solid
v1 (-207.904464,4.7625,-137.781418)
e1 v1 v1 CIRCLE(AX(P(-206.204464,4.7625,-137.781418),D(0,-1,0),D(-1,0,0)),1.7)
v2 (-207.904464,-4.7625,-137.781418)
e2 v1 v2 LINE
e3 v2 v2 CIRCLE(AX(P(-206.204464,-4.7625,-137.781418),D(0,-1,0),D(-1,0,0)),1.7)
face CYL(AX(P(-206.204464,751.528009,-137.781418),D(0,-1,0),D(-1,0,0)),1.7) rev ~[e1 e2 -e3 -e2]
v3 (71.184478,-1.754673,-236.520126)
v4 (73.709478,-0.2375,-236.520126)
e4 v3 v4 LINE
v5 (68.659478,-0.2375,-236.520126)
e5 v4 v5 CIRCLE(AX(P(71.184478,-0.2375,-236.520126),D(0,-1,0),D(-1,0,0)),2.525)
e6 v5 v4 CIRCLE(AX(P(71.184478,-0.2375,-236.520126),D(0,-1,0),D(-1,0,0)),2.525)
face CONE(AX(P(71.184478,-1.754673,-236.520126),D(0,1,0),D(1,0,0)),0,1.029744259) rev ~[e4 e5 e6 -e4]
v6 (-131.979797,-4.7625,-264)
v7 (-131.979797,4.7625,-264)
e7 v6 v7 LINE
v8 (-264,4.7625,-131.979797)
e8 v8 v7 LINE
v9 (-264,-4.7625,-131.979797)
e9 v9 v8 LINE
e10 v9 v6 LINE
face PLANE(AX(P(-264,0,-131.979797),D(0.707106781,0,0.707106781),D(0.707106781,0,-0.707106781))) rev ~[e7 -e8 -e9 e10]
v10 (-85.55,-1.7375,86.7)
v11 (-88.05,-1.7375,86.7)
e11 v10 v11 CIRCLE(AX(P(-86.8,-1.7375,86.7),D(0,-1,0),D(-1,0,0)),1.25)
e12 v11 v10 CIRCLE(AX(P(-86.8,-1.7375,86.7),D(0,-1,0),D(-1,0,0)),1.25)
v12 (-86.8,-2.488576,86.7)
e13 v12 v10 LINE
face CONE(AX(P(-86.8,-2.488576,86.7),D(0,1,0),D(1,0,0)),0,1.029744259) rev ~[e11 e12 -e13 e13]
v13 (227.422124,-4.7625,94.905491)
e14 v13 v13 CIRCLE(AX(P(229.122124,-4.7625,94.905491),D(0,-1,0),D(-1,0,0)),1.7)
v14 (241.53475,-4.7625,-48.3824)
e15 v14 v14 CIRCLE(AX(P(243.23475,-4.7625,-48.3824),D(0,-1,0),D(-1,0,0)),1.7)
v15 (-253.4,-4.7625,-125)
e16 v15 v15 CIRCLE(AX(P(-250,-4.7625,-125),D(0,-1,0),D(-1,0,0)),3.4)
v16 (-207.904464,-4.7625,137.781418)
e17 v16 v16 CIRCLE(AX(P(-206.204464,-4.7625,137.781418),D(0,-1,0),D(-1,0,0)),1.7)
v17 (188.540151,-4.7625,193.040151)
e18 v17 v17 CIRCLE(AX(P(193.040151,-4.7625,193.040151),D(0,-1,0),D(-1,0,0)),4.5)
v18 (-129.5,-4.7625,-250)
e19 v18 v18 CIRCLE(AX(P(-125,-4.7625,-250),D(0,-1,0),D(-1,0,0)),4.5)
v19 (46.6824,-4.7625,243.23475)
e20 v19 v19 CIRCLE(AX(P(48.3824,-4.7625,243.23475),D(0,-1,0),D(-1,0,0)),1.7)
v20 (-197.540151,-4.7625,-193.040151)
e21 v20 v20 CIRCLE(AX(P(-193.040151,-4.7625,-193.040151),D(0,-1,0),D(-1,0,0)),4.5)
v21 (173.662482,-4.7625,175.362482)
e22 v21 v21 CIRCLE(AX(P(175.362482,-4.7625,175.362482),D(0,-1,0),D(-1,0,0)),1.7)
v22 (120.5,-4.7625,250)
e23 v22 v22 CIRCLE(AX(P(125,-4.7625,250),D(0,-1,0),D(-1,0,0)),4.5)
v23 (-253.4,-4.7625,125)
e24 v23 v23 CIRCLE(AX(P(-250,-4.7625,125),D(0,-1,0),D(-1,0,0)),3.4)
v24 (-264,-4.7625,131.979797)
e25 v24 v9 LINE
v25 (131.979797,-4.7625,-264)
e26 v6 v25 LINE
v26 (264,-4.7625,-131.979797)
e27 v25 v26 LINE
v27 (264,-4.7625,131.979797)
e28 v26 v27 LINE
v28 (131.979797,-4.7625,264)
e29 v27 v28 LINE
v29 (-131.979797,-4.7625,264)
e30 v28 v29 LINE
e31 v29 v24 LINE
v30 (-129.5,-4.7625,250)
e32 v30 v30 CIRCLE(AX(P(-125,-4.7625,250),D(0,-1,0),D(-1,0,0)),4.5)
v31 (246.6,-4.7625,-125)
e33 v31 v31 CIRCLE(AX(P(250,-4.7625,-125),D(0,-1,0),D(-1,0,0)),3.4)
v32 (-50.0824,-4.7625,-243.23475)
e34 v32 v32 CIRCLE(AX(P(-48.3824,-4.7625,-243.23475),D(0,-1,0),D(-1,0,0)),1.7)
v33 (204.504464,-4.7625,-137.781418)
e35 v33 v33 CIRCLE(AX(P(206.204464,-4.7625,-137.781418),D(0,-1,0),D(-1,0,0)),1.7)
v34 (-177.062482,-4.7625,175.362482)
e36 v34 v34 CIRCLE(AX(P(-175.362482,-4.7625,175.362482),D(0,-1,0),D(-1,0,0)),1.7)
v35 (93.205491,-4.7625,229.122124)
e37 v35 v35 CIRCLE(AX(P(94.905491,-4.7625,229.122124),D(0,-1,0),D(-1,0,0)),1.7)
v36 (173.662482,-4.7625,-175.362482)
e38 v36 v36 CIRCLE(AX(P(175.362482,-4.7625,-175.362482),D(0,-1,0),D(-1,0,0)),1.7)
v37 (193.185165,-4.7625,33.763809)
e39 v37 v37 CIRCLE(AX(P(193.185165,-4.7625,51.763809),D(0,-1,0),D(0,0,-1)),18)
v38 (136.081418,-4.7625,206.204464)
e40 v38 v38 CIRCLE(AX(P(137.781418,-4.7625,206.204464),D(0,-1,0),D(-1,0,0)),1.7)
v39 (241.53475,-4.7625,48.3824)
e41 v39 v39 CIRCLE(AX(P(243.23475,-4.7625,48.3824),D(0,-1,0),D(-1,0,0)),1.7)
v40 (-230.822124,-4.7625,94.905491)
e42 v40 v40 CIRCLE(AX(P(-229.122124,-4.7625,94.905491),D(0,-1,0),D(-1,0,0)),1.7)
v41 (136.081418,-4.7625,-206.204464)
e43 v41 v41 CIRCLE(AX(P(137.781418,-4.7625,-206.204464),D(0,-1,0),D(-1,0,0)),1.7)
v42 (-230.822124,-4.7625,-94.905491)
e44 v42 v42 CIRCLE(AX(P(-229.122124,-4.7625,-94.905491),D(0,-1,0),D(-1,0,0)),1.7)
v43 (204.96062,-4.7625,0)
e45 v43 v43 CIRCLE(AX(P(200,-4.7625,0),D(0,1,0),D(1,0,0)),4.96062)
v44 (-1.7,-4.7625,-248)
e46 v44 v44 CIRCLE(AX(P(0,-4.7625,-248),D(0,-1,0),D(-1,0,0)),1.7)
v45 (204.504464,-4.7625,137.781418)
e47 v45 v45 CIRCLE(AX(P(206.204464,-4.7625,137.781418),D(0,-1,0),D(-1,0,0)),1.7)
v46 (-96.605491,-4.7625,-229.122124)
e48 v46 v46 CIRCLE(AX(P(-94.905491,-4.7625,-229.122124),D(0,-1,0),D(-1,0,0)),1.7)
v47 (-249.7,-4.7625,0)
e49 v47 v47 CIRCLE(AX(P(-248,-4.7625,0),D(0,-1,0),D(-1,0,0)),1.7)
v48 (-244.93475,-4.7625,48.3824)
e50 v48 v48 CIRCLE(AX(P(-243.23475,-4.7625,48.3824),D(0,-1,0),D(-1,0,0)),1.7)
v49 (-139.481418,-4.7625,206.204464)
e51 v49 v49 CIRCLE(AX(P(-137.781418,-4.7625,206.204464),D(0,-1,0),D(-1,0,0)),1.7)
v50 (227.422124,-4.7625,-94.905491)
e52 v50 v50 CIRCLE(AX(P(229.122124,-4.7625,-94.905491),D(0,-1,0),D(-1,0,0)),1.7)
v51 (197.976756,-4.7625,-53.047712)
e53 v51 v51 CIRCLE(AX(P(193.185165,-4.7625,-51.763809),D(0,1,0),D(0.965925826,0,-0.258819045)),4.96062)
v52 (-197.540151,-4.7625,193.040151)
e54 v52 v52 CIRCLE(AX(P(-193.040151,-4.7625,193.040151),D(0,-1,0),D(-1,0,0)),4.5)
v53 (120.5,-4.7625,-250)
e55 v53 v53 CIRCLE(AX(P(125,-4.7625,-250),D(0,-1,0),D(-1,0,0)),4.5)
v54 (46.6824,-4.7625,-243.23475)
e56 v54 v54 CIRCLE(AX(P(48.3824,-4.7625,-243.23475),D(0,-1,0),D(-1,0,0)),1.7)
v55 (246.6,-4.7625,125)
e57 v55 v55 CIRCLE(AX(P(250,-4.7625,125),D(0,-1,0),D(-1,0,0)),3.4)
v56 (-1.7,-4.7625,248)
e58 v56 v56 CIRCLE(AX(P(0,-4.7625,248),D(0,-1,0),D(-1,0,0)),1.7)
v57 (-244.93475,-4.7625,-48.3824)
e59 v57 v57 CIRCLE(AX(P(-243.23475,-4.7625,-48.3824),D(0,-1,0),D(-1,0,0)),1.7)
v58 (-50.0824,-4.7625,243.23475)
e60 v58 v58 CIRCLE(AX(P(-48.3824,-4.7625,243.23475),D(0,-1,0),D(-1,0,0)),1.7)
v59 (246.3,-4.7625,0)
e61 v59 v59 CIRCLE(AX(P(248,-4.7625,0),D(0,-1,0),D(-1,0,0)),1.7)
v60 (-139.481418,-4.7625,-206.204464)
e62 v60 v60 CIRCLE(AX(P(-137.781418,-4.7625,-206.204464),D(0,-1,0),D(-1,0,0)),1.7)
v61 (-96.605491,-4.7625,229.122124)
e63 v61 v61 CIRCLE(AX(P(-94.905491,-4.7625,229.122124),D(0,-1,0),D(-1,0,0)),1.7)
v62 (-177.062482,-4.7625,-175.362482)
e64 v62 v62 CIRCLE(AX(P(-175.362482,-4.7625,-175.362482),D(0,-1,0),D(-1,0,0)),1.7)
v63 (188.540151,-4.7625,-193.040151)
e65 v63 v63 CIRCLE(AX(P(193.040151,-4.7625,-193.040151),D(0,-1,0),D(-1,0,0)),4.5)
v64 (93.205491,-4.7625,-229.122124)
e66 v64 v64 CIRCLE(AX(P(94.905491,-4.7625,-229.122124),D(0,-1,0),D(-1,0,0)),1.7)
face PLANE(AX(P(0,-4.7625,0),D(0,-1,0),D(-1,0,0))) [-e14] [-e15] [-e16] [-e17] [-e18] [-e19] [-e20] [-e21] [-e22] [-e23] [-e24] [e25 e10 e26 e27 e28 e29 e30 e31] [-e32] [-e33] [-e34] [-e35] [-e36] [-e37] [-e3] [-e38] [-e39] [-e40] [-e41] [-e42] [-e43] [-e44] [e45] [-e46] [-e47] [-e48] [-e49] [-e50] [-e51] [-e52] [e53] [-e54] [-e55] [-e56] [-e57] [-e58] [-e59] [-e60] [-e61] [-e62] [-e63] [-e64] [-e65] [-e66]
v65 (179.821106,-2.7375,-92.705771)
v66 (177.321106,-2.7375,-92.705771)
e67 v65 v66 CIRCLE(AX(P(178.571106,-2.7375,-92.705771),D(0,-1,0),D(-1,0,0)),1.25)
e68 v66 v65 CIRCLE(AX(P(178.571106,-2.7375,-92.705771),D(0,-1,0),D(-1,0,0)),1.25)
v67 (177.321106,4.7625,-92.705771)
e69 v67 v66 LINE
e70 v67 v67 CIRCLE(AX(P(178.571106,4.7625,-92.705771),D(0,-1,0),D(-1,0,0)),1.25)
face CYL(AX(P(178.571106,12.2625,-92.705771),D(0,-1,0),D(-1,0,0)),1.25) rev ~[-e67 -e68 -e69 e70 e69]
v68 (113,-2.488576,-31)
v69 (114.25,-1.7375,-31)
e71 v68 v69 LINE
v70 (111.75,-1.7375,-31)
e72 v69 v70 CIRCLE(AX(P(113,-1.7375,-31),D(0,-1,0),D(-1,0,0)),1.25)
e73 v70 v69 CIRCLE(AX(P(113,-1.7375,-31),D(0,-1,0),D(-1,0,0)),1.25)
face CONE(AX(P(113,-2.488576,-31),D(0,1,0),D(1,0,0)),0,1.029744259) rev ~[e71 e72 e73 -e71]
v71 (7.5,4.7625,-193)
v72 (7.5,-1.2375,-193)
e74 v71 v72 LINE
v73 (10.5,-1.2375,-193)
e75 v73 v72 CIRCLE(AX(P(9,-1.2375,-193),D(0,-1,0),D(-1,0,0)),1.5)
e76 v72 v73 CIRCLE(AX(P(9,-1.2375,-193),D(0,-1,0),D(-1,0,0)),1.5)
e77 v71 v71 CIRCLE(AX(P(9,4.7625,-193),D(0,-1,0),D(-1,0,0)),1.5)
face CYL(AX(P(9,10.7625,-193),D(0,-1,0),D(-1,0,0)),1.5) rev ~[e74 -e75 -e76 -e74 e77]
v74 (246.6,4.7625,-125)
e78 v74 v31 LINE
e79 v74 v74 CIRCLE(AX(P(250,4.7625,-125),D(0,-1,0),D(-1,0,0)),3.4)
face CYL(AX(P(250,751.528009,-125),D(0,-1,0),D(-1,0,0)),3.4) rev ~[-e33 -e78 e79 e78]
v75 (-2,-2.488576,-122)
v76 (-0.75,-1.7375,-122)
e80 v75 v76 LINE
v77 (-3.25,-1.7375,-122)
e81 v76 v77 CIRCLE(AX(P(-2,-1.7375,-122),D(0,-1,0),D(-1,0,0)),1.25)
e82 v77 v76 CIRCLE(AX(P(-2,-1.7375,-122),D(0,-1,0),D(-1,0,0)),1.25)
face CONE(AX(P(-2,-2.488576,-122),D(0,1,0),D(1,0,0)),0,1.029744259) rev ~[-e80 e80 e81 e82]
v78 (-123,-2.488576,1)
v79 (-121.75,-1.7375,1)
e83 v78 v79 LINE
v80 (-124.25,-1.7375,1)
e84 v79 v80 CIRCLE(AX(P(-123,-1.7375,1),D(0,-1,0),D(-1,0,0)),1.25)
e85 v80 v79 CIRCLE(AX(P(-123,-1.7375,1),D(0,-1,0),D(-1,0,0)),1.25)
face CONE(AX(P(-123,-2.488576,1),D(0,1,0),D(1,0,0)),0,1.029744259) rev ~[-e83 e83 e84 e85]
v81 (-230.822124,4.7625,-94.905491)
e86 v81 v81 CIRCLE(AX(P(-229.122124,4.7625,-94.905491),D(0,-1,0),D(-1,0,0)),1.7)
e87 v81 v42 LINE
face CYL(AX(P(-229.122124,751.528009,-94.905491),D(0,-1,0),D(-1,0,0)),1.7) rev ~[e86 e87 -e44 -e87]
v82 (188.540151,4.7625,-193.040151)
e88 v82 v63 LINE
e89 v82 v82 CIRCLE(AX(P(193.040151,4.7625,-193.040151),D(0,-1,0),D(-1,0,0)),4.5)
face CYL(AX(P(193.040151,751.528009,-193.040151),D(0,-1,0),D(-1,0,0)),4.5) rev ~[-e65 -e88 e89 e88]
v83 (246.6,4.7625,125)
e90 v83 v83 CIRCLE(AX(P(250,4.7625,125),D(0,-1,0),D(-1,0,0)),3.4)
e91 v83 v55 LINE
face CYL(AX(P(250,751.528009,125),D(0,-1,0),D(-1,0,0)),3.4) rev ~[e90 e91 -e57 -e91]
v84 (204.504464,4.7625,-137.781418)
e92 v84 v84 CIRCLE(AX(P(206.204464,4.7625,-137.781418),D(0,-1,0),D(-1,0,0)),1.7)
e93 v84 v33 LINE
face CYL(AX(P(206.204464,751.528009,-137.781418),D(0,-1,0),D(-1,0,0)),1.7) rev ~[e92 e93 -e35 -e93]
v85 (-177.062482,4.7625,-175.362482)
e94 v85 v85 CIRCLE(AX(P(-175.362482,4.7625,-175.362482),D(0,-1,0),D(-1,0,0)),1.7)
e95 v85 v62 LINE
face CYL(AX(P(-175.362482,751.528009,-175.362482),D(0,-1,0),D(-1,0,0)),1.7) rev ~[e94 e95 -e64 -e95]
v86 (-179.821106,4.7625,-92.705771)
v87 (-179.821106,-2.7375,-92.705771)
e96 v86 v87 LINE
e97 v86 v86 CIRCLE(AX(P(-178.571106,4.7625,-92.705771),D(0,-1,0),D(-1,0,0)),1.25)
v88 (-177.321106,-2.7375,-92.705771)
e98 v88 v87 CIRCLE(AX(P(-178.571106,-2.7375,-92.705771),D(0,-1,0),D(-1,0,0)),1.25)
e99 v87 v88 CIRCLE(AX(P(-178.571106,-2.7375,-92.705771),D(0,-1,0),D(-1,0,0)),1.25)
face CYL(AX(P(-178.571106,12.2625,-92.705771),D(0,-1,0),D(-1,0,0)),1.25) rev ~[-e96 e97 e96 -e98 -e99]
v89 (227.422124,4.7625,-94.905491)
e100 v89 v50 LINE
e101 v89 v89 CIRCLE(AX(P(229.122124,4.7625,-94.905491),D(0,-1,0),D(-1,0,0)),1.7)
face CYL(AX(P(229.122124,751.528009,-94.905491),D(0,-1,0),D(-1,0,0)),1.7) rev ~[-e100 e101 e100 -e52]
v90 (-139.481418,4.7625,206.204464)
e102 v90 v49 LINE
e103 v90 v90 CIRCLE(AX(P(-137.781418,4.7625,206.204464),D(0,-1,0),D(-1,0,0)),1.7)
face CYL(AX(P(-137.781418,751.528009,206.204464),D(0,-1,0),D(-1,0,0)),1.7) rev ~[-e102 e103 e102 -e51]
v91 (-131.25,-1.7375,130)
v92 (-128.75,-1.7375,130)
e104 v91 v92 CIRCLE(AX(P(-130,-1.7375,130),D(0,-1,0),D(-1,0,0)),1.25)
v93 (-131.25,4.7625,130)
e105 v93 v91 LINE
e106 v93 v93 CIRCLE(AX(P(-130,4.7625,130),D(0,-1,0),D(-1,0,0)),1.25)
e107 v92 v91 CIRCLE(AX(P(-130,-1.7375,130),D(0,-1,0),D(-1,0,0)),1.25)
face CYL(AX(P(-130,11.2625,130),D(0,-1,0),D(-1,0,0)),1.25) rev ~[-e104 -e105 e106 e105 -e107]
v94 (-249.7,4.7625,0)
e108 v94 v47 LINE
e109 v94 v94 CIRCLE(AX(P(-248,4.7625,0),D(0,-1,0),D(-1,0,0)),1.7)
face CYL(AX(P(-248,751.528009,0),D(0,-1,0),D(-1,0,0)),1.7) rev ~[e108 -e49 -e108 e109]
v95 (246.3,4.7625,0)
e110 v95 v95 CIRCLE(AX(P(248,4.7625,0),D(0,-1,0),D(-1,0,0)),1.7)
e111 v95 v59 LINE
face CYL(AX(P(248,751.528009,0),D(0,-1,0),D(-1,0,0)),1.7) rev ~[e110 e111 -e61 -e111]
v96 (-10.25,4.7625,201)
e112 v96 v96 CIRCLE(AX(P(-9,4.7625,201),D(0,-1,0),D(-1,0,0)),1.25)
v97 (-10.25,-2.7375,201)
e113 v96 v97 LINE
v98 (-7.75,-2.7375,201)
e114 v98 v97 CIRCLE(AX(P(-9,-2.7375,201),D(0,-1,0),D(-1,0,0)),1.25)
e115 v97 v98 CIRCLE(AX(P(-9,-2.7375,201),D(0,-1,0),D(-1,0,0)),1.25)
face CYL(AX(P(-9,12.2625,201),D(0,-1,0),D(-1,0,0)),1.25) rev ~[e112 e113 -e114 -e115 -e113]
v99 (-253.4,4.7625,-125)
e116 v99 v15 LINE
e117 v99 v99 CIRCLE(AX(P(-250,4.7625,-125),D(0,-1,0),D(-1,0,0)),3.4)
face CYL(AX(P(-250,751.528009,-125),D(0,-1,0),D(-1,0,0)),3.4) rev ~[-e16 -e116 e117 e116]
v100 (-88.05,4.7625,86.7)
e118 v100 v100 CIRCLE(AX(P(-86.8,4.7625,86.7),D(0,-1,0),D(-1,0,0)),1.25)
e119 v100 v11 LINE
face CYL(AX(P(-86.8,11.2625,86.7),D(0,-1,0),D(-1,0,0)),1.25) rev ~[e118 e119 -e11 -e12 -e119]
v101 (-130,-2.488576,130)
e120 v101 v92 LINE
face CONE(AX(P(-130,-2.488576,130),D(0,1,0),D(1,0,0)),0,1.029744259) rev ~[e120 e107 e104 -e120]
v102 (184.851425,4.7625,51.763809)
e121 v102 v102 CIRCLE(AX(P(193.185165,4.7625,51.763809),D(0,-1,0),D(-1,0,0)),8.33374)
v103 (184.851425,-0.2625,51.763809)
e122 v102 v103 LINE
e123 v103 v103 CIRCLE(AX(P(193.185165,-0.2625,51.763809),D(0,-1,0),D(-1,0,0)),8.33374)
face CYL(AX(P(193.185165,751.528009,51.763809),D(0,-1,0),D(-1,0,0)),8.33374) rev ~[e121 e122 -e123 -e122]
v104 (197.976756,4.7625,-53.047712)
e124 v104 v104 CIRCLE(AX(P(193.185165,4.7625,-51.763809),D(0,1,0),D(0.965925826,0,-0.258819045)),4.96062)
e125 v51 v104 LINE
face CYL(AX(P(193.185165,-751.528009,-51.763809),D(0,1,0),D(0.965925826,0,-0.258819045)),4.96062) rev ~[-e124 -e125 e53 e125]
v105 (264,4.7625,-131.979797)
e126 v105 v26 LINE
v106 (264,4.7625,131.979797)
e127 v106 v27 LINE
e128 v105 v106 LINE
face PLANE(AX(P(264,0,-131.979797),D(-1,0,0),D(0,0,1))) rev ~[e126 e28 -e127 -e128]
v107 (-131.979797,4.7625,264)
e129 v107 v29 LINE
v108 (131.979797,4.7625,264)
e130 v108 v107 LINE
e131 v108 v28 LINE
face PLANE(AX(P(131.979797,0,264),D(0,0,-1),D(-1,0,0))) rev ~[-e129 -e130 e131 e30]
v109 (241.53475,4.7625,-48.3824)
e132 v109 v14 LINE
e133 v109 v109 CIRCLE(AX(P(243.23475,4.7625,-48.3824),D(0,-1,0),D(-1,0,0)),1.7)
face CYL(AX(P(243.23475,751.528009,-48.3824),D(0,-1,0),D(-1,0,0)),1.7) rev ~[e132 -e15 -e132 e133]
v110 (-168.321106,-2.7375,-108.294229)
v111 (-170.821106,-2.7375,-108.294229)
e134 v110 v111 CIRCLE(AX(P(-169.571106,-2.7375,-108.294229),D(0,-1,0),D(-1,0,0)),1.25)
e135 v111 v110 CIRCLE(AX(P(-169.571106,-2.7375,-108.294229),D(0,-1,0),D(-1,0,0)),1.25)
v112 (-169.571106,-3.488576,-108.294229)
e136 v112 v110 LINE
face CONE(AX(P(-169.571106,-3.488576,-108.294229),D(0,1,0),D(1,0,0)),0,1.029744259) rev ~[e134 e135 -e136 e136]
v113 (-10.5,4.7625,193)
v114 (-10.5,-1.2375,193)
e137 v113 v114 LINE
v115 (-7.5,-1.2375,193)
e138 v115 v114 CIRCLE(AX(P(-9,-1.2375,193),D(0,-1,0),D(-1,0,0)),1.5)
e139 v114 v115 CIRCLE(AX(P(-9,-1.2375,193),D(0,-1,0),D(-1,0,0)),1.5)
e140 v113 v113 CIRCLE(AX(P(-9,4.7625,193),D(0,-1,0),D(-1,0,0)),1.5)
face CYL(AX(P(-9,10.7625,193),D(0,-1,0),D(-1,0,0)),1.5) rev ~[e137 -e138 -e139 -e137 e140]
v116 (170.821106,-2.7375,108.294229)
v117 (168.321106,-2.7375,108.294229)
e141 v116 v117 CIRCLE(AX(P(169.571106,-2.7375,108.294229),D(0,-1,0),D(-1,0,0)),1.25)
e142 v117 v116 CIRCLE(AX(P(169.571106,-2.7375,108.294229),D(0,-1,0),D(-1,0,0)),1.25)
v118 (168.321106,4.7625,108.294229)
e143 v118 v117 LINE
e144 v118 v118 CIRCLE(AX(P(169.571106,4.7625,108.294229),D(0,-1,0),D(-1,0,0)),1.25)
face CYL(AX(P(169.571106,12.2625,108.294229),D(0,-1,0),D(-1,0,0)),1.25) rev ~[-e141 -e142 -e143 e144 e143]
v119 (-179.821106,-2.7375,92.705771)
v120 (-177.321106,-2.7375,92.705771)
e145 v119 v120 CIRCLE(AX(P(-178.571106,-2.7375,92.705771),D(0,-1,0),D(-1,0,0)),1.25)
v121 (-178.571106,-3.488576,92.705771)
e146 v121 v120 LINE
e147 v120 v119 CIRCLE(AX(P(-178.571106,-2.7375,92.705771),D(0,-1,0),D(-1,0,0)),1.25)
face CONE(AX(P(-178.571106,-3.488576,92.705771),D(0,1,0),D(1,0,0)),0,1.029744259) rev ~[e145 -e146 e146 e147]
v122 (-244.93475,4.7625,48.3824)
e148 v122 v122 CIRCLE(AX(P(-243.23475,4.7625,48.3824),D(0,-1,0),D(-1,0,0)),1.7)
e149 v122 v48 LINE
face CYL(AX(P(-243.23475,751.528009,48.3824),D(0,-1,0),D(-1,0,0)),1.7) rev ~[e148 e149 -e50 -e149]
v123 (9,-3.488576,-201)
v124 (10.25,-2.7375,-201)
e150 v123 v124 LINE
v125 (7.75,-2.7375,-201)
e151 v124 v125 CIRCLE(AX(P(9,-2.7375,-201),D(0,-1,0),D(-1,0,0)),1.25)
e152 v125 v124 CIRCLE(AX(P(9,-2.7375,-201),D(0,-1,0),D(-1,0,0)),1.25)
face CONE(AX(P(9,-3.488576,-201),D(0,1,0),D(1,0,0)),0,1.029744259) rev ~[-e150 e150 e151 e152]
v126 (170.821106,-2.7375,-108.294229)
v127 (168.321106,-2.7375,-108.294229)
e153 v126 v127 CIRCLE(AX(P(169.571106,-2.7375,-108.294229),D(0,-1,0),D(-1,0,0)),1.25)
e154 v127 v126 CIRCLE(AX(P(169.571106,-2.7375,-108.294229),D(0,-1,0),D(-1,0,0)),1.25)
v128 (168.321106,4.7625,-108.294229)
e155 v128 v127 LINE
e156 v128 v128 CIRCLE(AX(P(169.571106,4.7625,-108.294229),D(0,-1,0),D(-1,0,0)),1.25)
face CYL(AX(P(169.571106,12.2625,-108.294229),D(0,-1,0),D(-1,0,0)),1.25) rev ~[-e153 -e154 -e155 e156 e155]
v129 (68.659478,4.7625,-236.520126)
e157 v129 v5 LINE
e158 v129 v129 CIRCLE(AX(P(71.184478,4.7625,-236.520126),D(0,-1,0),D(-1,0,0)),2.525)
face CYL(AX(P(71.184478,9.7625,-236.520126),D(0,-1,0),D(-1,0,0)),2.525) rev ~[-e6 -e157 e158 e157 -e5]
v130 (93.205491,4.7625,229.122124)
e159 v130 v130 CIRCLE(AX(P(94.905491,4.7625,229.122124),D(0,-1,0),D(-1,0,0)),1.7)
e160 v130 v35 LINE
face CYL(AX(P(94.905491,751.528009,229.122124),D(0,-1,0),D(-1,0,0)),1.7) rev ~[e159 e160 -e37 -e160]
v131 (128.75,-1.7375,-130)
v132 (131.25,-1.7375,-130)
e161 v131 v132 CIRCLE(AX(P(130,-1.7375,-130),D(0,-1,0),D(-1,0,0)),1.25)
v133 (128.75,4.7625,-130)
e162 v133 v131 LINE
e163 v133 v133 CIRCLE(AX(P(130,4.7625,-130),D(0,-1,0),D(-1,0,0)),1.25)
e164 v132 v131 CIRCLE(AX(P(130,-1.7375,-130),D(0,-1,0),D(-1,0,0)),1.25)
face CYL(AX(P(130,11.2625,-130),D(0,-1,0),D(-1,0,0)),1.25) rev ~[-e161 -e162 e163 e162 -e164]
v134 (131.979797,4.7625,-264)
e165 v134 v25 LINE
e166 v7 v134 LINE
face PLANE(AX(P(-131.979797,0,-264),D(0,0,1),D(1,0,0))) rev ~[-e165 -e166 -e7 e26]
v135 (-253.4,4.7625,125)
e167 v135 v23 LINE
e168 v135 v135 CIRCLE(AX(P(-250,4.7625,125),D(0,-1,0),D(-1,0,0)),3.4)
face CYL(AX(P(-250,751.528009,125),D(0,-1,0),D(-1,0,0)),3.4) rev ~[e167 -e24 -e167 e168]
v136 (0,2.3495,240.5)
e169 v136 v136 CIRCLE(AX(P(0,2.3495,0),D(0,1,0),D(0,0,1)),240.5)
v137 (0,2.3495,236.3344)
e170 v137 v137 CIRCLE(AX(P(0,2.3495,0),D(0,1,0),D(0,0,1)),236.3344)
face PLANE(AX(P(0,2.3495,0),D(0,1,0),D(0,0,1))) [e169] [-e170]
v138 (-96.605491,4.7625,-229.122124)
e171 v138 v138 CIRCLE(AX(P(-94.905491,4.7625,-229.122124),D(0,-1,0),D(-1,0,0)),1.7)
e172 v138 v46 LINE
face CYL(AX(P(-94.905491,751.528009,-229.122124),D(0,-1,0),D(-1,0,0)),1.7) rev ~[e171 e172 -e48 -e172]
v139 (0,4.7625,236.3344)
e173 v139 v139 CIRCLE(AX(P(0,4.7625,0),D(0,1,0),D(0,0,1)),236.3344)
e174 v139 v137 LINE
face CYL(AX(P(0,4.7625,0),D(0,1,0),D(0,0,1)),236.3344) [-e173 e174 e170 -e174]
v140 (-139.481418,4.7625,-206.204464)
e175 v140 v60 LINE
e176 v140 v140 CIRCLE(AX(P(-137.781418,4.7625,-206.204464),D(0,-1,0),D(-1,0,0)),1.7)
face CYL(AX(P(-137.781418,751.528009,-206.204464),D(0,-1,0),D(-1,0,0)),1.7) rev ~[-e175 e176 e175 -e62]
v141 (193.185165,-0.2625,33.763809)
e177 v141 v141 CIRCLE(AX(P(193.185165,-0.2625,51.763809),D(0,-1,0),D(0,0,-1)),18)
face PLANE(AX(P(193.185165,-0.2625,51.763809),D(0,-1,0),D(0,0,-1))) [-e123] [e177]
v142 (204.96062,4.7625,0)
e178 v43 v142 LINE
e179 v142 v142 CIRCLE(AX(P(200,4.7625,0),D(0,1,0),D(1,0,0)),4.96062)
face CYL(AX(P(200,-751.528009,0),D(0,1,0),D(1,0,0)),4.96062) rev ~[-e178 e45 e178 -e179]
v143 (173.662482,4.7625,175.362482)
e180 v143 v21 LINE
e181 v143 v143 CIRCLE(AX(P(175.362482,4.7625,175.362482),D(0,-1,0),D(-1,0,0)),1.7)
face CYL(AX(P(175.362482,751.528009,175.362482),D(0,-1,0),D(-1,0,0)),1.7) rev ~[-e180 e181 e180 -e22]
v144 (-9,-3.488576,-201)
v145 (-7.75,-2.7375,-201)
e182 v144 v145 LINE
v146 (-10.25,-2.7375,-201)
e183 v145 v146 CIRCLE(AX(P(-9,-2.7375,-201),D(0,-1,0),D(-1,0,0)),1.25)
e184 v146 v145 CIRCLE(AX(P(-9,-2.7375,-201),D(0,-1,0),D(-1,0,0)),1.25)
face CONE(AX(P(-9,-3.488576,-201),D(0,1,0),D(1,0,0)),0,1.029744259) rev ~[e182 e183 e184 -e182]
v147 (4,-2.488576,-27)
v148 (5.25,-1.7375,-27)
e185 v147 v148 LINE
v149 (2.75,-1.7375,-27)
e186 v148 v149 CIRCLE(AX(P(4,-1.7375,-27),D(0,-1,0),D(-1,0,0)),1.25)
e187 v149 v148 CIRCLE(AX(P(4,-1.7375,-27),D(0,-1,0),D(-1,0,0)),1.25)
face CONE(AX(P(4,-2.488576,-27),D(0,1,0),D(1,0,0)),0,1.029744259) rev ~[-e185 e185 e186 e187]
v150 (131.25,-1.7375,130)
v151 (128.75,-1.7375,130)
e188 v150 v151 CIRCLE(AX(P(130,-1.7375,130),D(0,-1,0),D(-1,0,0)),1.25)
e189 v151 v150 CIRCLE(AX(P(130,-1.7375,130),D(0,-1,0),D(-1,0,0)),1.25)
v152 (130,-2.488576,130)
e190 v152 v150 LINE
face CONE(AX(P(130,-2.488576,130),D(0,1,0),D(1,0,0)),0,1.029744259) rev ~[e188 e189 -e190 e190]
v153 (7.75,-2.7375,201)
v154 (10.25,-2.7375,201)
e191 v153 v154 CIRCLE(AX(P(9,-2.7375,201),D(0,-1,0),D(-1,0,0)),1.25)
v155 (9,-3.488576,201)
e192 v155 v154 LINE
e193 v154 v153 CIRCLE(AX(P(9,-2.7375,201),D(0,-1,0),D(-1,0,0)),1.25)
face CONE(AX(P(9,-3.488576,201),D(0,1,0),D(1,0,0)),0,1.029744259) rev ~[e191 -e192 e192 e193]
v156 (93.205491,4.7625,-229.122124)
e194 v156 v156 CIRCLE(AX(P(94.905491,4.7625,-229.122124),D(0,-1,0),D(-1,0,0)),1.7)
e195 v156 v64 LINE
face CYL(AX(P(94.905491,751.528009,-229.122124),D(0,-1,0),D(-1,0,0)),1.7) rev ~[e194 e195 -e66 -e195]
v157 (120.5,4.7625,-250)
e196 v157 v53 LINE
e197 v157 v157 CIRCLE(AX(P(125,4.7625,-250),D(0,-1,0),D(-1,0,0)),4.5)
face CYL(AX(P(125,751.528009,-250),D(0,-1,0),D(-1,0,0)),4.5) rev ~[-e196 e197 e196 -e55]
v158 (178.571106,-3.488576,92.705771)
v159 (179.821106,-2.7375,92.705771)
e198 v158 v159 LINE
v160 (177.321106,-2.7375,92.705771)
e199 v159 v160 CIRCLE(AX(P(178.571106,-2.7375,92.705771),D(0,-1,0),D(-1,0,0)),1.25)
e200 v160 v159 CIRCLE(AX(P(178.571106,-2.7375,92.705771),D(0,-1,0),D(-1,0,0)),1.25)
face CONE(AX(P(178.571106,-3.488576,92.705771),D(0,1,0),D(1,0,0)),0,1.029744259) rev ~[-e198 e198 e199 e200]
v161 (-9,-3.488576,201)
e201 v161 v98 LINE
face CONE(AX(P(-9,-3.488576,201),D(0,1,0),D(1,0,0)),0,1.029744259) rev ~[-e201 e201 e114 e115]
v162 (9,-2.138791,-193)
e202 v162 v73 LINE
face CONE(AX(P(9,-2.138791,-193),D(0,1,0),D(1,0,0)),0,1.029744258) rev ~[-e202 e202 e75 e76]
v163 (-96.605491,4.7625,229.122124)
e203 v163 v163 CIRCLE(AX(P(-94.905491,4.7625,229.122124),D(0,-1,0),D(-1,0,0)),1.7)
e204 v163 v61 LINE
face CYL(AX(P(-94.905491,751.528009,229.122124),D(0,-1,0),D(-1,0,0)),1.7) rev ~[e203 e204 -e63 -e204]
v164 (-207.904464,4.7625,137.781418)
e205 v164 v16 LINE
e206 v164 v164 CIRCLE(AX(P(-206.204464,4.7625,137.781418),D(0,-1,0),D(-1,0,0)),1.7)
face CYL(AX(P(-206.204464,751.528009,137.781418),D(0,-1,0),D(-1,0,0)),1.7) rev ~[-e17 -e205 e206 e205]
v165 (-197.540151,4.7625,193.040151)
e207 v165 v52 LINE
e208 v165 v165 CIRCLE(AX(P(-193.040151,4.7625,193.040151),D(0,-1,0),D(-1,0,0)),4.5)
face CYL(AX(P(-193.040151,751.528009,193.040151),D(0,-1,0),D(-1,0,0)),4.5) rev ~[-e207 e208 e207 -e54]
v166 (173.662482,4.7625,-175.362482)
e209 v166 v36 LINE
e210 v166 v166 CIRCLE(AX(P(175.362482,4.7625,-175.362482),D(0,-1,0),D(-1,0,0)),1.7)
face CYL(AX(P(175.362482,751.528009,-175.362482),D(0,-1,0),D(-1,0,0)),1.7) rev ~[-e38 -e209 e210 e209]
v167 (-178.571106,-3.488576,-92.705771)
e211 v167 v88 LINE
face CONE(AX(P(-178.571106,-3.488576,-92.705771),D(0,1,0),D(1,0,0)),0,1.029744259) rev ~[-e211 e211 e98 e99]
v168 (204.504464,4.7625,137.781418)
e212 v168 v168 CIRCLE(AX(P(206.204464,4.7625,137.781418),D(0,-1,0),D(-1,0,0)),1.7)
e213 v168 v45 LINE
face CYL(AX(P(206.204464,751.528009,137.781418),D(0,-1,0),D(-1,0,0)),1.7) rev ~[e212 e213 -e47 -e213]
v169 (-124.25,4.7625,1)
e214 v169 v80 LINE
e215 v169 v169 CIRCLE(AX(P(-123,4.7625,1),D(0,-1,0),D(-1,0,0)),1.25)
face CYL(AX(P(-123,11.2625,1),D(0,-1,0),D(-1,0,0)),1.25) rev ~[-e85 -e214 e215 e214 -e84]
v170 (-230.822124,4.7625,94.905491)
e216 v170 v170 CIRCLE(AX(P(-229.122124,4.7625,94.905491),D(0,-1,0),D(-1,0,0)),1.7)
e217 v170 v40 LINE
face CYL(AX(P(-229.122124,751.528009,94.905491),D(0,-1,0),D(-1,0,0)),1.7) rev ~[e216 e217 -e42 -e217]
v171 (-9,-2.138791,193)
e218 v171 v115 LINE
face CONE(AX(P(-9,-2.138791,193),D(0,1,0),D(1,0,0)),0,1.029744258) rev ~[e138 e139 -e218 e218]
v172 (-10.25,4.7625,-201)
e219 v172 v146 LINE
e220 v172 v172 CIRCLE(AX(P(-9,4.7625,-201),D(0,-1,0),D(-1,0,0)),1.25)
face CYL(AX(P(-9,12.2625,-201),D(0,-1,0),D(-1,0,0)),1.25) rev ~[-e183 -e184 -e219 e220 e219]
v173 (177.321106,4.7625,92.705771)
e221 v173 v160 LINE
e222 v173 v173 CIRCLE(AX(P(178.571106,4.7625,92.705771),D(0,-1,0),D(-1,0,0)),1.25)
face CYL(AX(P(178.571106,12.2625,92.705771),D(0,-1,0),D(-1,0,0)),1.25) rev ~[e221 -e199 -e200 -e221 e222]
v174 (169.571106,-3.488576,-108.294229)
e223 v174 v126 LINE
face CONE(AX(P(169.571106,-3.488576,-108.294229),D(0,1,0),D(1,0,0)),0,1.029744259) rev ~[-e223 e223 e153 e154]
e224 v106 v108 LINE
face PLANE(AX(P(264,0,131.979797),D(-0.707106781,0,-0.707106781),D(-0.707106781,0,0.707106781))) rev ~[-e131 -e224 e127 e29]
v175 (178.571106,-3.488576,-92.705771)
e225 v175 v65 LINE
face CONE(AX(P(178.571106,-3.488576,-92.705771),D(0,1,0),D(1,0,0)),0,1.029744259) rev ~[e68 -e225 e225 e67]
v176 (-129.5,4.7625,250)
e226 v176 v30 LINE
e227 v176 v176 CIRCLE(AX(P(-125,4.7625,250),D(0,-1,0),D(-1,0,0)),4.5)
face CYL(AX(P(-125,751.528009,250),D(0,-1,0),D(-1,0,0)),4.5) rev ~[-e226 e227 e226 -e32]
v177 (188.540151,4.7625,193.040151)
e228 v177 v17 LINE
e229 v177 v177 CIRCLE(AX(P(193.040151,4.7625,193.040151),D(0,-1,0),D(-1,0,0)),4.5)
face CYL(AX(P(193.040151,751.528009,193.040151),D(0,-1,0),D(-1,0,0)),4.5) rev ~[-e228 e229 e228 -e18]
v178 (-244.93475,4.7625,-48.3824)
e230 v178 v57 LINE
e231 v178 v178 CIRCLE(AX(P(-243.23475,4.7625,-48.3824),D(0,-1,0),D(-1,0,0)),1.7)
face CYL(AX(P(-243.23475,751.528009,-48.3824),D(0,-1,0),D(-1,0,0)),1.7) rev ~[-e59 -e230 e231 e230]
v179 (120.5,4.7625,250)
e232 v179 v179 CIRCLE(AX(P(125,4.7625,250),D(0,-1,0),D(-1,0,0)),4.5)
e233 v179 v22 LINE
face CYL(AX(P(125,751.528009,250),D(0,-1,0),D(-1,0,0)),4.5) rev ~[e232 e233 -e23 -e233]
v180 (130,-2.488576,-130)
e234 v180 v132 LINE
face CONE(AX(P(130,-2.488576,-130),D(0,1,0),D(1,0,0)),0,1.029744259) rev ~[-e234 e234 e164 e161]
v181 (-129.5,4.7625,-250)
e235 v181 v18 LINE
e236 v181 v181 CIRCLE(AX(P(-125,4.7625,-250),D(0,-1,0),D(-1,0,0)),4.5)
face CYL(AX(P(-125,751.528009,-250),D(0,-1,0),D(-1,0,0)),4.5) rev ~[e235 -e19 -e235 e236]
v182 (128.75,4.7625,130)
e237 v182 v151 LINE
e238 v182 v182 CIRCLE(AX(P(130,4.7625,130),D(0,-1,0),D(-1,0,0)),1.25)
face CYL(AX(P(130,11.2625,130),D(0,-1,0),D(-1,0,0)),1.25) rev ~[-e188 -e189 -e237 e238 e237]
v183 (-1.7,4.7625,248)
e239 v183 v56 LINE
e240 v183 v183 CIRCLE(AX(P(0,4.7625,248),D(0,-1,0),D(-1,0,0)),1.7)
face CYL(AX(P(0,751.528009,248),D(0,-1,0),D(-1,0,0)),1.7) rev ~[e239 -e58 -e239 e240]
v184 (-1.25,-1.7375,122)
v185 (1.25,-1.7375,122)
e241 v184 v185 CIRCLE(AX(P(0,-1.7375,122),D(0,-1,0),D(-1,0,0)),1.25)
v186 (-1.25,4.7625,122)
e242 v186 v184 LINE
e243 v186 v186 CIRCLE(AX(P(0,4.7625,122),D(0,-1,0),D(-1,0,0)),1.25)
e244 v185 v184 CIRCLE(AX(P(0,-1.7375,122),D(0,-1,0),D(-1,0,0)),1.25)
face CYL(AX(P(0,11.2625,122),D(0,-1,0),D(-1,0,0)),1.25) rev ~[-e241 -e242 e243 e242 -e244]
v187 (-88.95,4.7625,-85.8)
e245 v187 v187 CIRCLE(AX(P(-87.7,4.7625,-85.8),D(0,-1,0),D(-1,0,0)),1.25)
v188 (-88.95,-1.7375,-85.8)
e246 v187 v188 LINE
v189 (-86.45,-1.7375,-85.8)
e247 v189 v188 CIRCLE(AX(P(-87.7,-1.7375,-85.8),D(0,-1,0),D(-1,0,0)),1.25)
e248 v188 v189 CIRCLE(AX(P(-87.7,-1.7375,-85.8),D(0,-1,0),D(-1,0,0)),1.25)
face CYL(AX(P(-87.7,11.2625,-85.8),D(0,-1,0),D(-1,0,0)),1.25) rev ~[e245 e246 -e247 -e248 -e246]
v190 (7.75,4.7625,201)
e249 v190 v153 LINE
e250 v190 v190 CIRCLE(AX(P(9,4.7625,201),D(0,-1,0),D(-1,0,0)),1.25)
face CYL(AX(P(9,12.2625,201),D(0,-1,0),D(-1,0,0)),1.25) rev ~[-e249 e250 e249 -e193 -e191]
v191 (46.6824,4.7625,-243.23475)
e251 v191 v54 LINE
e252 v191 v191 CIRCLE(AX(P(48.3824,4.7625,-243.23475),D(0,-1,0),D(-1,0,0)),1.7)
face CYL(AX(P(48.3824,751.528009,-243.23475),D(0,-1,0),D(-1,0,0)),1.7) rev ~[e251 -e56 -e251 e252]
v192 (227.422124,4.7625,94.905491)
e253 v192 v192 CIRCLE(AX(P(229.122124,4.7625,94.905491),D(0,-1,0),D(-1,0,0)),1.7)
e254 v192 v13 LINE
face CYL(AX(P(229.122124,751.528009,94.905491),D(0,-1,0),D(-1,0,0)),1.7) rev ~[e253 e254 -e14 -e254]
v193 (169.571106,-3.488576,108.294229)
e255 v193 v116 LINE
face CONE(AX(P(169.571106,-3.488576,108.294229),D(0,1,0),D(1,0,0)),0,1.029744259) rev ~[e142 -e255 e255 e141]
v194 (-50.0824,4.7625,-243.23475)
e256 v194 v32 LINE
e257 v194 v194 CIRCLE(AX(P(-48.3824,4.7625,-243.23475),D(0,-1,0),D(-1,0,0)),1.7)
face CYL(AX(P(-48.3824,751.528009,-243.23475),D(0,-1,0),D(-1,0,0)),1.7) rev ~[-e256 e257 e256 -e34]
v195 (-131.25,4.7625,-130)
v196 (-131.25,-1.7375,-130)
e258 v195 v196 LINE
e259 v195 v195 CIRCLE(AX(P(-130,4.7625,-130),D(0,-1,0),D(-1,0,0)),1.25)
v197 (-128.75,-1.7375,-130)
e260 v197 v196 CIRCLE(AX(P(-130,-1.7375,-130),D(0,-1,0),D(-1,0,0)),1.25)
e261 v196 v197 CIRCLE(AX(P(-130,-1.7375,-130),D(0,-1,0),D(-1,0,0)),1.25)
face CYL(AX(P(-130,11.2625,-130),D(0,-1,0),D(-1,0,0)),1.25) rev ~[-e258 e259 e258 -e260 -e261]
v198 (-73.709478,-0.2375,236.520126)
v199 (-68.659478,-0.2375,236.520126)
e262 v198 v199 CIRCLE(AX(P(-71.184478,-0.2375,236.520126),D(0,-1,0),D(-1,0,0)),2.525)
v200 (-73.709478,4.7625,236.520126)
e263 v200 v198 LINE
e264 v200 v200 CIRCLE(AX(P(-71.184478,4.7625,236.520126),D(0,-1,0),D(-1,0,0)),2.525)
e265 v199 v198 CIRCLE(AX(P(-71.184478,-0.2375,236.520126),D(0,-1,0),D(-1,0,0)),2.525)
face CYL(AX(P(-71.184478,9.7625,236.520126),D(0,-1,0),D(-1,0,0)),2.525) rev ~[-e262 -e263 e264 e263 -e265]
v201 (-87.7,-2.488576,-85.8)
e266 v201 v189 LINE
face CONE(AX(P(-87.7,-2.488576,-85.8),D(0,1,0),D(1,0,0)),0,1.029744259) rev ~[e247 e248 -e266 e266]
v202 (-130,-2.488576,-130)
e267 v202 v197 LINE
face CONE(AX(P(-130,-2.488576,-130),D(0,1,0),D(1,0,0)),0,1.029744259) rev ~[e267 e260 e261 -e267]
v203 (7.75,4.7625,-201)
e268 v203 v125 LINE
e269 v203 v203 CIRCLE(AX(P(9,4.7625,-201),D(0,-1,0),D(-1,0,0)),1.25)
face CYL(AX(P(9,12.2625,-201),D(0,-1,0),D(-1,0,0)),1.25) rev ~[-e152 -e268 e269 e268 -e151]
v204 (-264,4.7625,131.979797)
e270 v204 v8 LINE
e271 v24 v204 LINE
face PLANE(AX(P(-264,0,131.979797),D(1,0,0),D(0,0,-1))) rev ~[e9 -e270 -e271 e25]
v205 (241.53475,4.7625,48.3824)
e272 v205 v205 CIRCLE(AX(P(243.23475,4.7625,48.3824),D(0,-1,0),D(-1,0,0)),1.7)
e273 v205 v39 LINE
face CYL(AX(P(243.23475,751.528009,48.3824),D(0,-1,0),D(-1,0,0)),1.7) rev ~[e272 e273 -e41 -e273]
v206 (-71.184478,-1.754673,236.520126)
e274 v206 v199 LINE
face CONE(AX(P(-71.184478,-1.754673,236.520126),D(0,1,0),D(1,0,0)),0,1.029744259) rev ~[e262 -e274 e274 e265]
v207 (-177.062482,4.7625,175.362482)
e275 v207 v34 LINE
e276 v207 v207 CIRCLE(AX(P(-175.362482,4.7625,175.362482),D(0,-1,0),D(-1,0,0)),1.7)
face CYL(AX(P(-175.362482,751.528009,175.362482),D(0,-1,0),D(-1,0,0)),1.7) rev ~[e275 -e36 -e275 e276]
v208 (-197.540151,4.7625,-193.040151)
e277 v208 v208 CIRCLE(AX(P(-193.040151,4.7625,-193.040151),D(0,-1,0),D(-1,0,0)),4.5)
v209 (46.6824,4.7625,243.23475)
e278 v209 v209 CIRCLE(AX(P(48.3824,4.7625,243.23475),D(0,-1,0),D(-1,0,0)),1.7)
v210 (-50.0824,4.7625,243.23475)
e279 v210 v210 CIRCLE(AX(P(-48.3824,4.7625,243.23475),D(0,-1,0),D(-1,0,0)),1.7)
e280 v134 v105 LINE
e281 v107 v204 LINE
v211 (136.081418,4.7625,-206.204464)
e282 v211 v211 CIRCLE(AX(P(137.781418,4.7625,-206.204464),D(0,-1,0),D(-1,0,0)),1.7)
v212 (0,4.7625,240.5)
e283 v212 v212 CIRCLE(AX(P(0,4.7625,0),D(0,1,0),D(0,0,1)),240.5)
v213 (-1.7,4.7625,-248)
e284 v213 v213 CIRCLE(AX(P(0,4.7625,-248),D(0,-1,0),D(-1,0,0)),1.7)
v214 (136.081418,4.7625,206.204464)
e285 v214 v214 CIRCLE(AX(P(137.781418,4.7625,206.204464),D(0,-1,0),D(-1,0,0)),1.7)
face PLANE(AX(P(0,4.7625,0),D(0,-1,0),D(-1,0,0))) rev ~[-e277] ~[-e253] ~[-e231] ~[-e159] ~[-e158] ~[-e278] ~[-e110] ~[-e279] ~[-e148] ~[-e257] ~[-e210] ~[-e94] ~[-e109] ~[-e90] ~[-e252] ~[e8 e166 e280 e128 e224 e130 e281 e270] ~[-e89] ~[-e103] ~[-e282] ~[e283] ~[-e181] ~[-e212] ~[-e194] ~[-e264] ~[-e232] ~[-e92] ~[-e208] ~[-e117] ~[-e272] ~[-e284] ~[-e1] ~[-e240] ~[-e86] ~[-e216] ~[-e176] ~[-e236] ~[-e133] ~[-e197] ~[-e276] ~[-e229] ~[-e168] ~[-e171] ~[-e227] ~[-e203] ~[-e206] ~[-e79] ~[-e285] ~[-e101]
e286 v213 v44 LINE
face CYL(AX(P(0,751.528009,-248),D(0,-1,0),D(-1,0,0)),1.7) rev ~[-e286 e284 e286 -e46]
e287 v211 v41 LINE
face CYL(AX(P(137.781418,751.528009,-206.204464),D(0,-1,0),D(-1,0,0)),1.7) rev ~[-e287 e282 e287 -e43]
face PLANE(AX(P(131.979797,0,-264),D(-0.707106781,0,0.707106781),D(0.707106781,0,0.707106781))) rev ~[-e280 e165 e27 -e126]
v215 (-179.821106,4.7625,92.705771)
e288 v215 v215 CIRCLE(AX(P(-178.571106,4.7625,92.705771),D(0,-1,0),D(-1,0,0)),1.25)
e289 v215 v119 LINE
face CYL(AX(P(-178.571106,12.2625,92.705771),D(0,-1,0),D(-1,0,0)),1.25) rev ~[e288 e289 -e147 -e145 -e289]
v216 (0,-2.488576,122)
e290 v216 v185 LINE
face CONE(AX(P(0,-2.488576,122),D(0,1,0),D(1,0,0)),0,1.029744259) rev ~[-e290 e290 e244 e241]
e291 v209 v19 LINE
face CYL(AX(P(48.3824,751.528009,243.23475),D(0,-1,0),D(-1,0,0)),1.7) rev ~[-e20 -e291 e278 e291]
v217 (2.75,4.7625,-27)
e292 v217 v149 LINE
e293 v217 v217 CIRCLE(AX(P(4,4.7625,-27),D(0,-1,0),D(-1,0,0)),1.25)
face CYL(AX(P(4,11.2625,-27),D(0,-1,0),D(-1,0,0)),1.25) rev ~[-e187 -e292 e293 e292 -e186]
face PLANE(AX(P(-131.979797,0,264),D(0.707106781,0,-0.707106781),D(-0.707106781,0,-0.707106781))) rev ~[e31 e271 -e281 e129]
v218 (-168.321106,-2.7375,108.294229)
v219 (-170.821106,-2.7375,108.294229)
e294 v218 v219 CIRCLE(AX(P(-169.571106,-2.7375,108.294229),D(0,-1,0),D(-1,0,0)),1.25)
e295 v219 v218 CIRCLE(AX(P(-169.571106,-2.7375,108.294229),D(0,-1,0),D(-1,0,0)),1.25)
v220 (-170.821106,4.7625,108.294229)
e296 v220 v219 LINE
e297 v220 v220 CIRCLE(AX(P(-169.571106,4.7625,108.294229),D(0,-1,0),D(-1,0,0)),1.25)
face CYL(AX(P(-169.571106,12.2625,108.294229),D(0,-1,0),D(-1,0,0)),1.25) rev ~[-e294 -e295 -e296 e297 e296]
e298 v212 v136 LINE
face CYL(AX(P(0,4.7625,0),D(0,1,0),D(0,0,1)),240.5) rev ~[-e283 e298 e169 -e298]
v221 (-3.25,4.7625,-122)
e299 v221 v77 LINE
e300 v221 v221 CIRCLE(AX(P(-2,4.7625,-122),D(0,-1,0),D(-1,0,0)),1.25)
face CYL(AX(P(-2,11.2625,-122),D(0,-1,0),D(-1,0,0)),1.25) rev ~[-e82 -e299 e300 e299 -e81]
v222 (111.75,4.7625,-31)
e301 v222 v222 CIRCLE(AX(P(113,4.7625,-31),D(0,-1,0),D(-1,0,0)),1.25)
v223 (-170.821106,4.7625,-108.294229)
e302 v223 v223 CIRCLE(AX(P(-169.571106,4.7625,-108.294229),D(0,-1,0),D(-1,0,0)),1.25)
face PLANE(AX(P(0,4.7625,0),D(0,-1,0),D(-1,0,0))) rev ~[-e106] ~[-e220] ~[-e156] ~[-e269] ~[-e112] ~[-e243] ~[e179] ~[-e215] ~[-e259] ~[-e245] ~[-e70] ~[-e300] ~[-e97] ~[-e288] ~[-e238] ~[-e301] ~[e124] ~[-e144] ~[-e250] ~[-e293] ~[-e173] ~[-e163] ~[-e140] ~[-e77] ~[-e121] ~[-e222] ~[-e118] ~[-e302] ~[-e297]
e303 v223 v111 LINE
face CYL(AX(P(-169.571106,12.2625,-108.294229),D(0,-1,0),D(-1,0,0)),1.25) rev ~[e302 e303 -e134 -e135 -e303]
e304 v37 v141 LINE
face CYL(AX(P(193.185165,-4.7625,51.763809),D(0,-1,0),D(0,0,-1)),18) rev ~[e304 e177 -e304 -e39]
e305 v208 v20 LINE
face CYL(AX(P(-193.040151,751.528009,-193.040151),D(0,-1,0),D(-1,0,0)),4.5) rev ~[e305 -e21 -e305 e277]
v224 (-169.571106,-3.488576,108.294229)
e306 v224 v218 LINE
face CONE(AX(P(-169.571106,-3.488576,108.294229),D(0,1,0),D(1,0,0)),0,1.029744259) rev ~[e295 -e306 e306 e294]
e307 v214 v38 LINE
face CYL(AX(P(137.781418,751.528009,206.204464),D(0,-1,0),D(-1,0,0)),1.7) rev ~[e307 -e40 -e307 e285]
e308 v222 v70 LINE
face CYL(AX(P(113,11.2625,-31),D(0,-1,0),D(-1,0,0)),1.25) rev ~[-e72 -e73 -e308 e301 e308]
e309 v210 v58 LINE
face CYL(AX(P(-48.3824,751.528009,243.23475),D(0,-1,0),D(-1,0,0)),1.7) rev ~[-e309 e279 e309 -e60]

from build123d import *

# Parameters (mm, degrees)
BASE_PLATE_PROFILE_DEPTH                     = 4.7625
M3_CLEARANCE_HOLE_FOR_CYLINDER_D             = 3.4
M3X0_5_TAPPED_HOLE_FOR_SUPPORT_PILLARS_D     = 2.5
M3X0_5_TAPPED_HOLE_FOR_SUPPORT_PILLARS_DEPTH = 7.5
M3X0_5_TAPPED_HOLE_FOR_SUPPORT_PILLARS_TIP   = 0.751075774
F_3_0MM_DOWEL_HOLE_FOR_SUPPORT_PILLARS_D     = 3
F_3_0MM_DOWEL_HOLE_FOR_SUPPORT_PILLARS_DEPTH = 6
F_3_0MM_DOWEL_HOLE_FOR_SUPPORT_PILLARS_TIP   = 0.901290929
M3X0_5_TAPPED_HOLE_FOR_PCB_STANDOFFS_D       = 2.5
M3X0_5_TAPPED_HOLE_FOR_PCB_STANDOFFS_DEPTH   = 6.5
M3X0_5_TAPPED_HOLE_FOR_PCB_STANDOFFS_TIP     = 0.751075774
M8_CLEARANCE_HOLE_FOR_LIFTING_ALIGNM_D       = 9
M8X1_25_TAPPED_HOLE_FOR_SUPER_STRUCTURE_D    = 6.8
F_7_16_20_TAPPED_HOLE_FOR_PENETRATOR_D       = 9.92124
SKETCH28_R                                   = 240.5
SKETCH28_R_2                                 = 236.3344
O_RING_GROOVE_DEPTH                          = 2.413
CIRPATTERN_EXTRACABLES_COUNT                 = 2
CIRPATTERN_EXTRACABLES_ANGLE                 = 15
F_5_8_CLEARANCE_HOLE1_D                      = 16.66748
SKETCH35_R                                   = 18
CUT_EXTRUDE1_DEPTH                           = 4.5
M8_CLEARANCE_HOLE_D                          = 9
F_5_0MM_DOWEL_HOLE1_D                        = 5.05
F_5_0MM_DOWEL_HOLE1_DEPTH                    = 5
F_5_0MM_DOWEL_HOLE1_TIP                      = 1.517173063


with BuildPart() as part:
    # Sketch1 → Base Plate Profile (new, symmetric)
    with BuildSketch(Plane(origin=(0, 0, 0), x_dir=(1, 0, 0), z_dir=(0, 1, 0))):
        Polygon((-131.979797464, 264), (131.979797464, 264), (264, 131.979797464), (264, -131.979797464), (131.979797464, -264), (-131.979797464, -264), (-264, -131.979797464), (-264, 131.979797464), align=None)
    extrude(amount=BASE_PLATE_PROFILE_DEPTH, both=True)

    # M3 Clearance Hole - For Cylinder (through all)
    with Locations(Plane(origin=(0, 4.7625, 0), x_dir=(1, 0, 0), z_dir=(0, 1, 0))):
        with Locations((248, 0), (243.23474954, -48.38239986), (229.122124063, -94.905491227), (206.204463851, -137.781417789), (175.362481734, -175.362481734), (137.781417789, -206.204463851), (94.905491227, -229.122124063), (48.38239986, -243.23474954), (0, -248), (-48.38239986, -243.23474954), (-94.905491227, -229.122124063), (-137.781417789, -206.204463851), (-175.362481734, -175.362481734), (-206.204463851, -137.781417789), (-229.122124063, -94.905491227), (-243.23474954, -48.38239986), (-248, 0), (-243.23474954, 48.38239986), (-229.122124063, 94.905491227), (-206.204463851, 137.781417789), (-175.362481734, 175.362481734), (-137.781417789, 206.204463851), (-94.905491227, 229.122124063), (-48.38239986, 243.23474954), (0, 248), (48.38239986, 243.23474954), (94.905491227, 229.122124063), (137.781417789, 206.204463851), (175.362481734, 175.362481734), (206.204463851, 137.781417789), (229.122124063, 94.905491227), (243.23474954, 48.38239986)):
            Hole(M3_CLEARANCE_HOLE_FOR_CYLINDER_D / 2)

    # M3x0.5 Tapped Hole - For Support Pillars
    with Locations(Plane(origin=(0, 4.7625, 0), x_dir=(1, 0, 0), z_dir=(0, 1, 0))):
        with Locations((-9, 201), (9, 201), (169.571106161, 108.294228634), (178.571106161, 92.705771366), (178.571106161, -92.705771366), (169.571106161, -108.294228634), (9, -201), (-9, -201), (-169.571106161, -108.294228634), (-178.571106161, -92.705771366), (-178.571106161, 92.705771366), (-169.571106161, 108.294228634)):
            Hole(M3X0_5_TAPPED_HOLE_FOR_SUPPORT_PILLARS_D / 2, depth=M3X0_5_TAPPED_HOLE_FOR_SUPPORT_PILLARS_DEPTH)
            with Locations((0, 0, -(M3X0_5_TAPPED_HOLE_FOR_SUPPORT_PILLARS_DEPTH + M3X0_5_TAPPED_HOLE_FOR_SUPPORT_PILLARS_TIP / 2))):  # 118° drill point
                Cone(0, M3X0_5_TAPPED_HOLE_FOR_SUPPORT_PILLARS_D / 2, M3X0_5_TAPPED_HOLE_FOR_SUPPORT_PILLARS_TIP, mode=Mode.SUBTRACT)

    # Ø3.0mm Dowel Hole - For Support Pillars
    with Locations(Plane(origin=(0, 4.7625, 0), x_dir=(1, 0, 0), z_dir=(0, 1, 0))):
        with Locations((9, 193), (-9, -193)):
            Hole(F_3_0MM_DOWEL_HOLE_FOR_SUPPORT_PILLARS_D / 2, depth=F_3_0MM_DOWEL_HOLE_FOR_SUPPORT_PILLARS_DEPTH)
            with Locations((0, 0, -(F_3_0MM_DOWEL_HOLE_FOR_SUPPORT_PILLARS_DEPTH + F_3_0MM_DOWEL_HOLE_FOR_SUPPORT_PILLARS_TIP / 2))):  # 118° drill point
                Cone(0, F_3_0MM_DOWEL_HOLE_FOR_SUPPORT_PILLARS_D / 2, F_3_0MM_DOWEL_HOLE_FOR_SUPPORT_PILLARS_TIP, mode=Mode.SUBTRACT)

    # M3x0.5 Tapped Hole - For PCB Standoffs
    with Locations(Plane(origin=(0, 4.7625, 0), x_dir=(1, 0, 0), z_dir=(0, 1, 0))):
        with Locations((113, 31), (-130, -130), (130, -130), (130, 130), (-130, 130), (-86.8, -86.7), (0, -122), (-123, -1), (-87.7, 85.8), (4, 27), (-2, 122)):
            Hole(M3X0_5_TAPPED_HOLE_FOR_PCB_STANDOFFS_D / 2, depth=M3X0_5_TAPPED_HOLE_FOR_PCB_STANDOFFS_DEPTH)
            with Locations((0, 0, -(M3X0_5_TAPPED_HOLE_FOR_PCB_STANDOFFS_DEPTH + M3X0_5_TAPPED_HOLE_FOR_PCB_STANDOFFS_TIP / 2))):  # 118° drill point
                Cone(0, M3X0_5_TAPPED_HOLE_FOR_PCB_STANDOFFS_D / 2, M3X0_5_TAPPED_HOLE_FOR_PCB_STANDOFFS_TIP, mode=Mode.SUBTRACT)

    # M8 Clearance Hole - For Lifting / Alignment (through all)
    with Locations(Plane(origin=(0, 4.7625, 0), x_dir=(1, 0, 0), z_dir=(0, 1, 0))):
        with Locations((-193.040151264, -193.040151264), (-193.040151264, 193.040151264), (193.040151264, 193.040151264), (193.040151264, -193.040151264)):
            Hole(M8_CLEARANCE_HOLE_FOR_LIFTING_ALIGNM_D / 2)

    # M8x1.25 Tapped Hole -For Super Structure (through all)
    with Locations(Plane(origin=(0, 4.7625, 0), x_dir=(1, 0, 0), z_dir=(0, 1, 0))):
        with Locations((250, 125), (-250, -125), (-250, 125), (250, -125)):
            Hole(M8X1_25_TAPPED_HOLE_FOR_SUPER_STRUCTURE_D / 2)

    # 7/16-20 Tapped Hole - For Penetrator (through all)
    with Locations(Plane(origin=(0, -4.7625, 0), x_dir=(-1, 0, 0), z_dir=(0, -1, 0))):
        with Locations((-200, 0)):
            f_7_16_20_tapped_hole_for_penetrator = Hole(F_7_16_20_TAPPED_HOLE_FOR_PENETRATOR_D / 2)

    # Sketch28 → O-ring Groove (cut)
    with BuildSketch(Plane(origin=(0, 4.7625, 0), x_dir=(1, 0, 0), z_dir=(0, 1, 0))):
        with Locations(Location((0, 0, 0), (0, 0, 270))):
            Circle(SKETCH28_R)
        with Locations(Location((0, 0, 0), (0, 0, 270))):
            Circle(SKETCH28_R_2, mode=Mode.SUBTRACT)
    extrude(amount=-O_RING_GROOVE_DEPTH, mode=Mode.SUBTRACT)

    # CirPattern_extraCables: 7/16-20 Tapped Hole - For Penetrator ×2 about axis
    cirpattern_extracables_axis = Axis((0, -5.23875, 0), (0, 1, 0))
    for i in range(1, CIRPATTERN_EXTRACABLES_COUNT):
        add(f_7_16_20_tapped_hole_for_penetrator.rotate(cirpattern_extracables_axis, i * CIRPATTERN_EXTRACABLES_ANGLE / (CIRPATTERN_EXTRACABLES_COUNT - 1)), mode=Mode.SUBTRACT)

    # 5/8 Clearance Hole1 (through all)
    with Locations(Plane(origin=(0, 4.7625, 0), x_dir=(1, 0, 0), z_dir=(0, 1, 0))):
        with Locations((193.185165258, -51.763809021)):
            Hole(F_5_8_CLEARANCE_HOLE1_D / 2)

    # Sketch35 → Cut-Extrude1 (cut)
    with BuildSketch(Plane.XZ.offset(4.7625)):
        with Locations(Location((193.185165258, 51.763809021, 0), (0, 0, 270))):
            Circle(SKETCH35_R)
    extrude(amount=-CUT_EXTRUDE1_DEPTH, mode=Mode.SUBTRACT)

    # M8 Clearance Hole (through all)
    with Locations(Plane(origin=(-28.123925909, 4.7625, -48.06749493), x_dir=(1, 0, 0), z_dir=(0, 1, 0))):
        with Locations((-96.876074091, -298.06749493), (-96.876074091, 201.93250507), (153.123925909, -298.06749493), (153.123925909, 201.93250507)):
            Hole(M8_CLEARANCE_HOLE_D / 2)

    # Ø5.0mm Dowel Hole1
    with Locations(Plane(origin=(0, 4.7625, 0), x_dir=(1, 0, 0), z_dir=(0, 1, 0))):
        with Locations((71.184478229, 236.520126119), (-71.184478229, -236.520126119)):
            Hole(F_5_0MM_DOWEL_HOLE1_D / 2, depth=F_5_0MM_DOWEL_HOLE1_DEPTH)
            with Locations((0, 0, -(F_5_0MM_DOWEL_HOLE1_DEPTH + F_5_0MM_DOWEL_HOLE1_TIP / 2))):  # 118° drill point
                Cone(0, F_5_0MM_DOWEL_HOLE1_D / 2, F_5_0MM_DOWEL_HOLE1_TIP, mode=Mode.SUBTRACT)


solid = part.part
